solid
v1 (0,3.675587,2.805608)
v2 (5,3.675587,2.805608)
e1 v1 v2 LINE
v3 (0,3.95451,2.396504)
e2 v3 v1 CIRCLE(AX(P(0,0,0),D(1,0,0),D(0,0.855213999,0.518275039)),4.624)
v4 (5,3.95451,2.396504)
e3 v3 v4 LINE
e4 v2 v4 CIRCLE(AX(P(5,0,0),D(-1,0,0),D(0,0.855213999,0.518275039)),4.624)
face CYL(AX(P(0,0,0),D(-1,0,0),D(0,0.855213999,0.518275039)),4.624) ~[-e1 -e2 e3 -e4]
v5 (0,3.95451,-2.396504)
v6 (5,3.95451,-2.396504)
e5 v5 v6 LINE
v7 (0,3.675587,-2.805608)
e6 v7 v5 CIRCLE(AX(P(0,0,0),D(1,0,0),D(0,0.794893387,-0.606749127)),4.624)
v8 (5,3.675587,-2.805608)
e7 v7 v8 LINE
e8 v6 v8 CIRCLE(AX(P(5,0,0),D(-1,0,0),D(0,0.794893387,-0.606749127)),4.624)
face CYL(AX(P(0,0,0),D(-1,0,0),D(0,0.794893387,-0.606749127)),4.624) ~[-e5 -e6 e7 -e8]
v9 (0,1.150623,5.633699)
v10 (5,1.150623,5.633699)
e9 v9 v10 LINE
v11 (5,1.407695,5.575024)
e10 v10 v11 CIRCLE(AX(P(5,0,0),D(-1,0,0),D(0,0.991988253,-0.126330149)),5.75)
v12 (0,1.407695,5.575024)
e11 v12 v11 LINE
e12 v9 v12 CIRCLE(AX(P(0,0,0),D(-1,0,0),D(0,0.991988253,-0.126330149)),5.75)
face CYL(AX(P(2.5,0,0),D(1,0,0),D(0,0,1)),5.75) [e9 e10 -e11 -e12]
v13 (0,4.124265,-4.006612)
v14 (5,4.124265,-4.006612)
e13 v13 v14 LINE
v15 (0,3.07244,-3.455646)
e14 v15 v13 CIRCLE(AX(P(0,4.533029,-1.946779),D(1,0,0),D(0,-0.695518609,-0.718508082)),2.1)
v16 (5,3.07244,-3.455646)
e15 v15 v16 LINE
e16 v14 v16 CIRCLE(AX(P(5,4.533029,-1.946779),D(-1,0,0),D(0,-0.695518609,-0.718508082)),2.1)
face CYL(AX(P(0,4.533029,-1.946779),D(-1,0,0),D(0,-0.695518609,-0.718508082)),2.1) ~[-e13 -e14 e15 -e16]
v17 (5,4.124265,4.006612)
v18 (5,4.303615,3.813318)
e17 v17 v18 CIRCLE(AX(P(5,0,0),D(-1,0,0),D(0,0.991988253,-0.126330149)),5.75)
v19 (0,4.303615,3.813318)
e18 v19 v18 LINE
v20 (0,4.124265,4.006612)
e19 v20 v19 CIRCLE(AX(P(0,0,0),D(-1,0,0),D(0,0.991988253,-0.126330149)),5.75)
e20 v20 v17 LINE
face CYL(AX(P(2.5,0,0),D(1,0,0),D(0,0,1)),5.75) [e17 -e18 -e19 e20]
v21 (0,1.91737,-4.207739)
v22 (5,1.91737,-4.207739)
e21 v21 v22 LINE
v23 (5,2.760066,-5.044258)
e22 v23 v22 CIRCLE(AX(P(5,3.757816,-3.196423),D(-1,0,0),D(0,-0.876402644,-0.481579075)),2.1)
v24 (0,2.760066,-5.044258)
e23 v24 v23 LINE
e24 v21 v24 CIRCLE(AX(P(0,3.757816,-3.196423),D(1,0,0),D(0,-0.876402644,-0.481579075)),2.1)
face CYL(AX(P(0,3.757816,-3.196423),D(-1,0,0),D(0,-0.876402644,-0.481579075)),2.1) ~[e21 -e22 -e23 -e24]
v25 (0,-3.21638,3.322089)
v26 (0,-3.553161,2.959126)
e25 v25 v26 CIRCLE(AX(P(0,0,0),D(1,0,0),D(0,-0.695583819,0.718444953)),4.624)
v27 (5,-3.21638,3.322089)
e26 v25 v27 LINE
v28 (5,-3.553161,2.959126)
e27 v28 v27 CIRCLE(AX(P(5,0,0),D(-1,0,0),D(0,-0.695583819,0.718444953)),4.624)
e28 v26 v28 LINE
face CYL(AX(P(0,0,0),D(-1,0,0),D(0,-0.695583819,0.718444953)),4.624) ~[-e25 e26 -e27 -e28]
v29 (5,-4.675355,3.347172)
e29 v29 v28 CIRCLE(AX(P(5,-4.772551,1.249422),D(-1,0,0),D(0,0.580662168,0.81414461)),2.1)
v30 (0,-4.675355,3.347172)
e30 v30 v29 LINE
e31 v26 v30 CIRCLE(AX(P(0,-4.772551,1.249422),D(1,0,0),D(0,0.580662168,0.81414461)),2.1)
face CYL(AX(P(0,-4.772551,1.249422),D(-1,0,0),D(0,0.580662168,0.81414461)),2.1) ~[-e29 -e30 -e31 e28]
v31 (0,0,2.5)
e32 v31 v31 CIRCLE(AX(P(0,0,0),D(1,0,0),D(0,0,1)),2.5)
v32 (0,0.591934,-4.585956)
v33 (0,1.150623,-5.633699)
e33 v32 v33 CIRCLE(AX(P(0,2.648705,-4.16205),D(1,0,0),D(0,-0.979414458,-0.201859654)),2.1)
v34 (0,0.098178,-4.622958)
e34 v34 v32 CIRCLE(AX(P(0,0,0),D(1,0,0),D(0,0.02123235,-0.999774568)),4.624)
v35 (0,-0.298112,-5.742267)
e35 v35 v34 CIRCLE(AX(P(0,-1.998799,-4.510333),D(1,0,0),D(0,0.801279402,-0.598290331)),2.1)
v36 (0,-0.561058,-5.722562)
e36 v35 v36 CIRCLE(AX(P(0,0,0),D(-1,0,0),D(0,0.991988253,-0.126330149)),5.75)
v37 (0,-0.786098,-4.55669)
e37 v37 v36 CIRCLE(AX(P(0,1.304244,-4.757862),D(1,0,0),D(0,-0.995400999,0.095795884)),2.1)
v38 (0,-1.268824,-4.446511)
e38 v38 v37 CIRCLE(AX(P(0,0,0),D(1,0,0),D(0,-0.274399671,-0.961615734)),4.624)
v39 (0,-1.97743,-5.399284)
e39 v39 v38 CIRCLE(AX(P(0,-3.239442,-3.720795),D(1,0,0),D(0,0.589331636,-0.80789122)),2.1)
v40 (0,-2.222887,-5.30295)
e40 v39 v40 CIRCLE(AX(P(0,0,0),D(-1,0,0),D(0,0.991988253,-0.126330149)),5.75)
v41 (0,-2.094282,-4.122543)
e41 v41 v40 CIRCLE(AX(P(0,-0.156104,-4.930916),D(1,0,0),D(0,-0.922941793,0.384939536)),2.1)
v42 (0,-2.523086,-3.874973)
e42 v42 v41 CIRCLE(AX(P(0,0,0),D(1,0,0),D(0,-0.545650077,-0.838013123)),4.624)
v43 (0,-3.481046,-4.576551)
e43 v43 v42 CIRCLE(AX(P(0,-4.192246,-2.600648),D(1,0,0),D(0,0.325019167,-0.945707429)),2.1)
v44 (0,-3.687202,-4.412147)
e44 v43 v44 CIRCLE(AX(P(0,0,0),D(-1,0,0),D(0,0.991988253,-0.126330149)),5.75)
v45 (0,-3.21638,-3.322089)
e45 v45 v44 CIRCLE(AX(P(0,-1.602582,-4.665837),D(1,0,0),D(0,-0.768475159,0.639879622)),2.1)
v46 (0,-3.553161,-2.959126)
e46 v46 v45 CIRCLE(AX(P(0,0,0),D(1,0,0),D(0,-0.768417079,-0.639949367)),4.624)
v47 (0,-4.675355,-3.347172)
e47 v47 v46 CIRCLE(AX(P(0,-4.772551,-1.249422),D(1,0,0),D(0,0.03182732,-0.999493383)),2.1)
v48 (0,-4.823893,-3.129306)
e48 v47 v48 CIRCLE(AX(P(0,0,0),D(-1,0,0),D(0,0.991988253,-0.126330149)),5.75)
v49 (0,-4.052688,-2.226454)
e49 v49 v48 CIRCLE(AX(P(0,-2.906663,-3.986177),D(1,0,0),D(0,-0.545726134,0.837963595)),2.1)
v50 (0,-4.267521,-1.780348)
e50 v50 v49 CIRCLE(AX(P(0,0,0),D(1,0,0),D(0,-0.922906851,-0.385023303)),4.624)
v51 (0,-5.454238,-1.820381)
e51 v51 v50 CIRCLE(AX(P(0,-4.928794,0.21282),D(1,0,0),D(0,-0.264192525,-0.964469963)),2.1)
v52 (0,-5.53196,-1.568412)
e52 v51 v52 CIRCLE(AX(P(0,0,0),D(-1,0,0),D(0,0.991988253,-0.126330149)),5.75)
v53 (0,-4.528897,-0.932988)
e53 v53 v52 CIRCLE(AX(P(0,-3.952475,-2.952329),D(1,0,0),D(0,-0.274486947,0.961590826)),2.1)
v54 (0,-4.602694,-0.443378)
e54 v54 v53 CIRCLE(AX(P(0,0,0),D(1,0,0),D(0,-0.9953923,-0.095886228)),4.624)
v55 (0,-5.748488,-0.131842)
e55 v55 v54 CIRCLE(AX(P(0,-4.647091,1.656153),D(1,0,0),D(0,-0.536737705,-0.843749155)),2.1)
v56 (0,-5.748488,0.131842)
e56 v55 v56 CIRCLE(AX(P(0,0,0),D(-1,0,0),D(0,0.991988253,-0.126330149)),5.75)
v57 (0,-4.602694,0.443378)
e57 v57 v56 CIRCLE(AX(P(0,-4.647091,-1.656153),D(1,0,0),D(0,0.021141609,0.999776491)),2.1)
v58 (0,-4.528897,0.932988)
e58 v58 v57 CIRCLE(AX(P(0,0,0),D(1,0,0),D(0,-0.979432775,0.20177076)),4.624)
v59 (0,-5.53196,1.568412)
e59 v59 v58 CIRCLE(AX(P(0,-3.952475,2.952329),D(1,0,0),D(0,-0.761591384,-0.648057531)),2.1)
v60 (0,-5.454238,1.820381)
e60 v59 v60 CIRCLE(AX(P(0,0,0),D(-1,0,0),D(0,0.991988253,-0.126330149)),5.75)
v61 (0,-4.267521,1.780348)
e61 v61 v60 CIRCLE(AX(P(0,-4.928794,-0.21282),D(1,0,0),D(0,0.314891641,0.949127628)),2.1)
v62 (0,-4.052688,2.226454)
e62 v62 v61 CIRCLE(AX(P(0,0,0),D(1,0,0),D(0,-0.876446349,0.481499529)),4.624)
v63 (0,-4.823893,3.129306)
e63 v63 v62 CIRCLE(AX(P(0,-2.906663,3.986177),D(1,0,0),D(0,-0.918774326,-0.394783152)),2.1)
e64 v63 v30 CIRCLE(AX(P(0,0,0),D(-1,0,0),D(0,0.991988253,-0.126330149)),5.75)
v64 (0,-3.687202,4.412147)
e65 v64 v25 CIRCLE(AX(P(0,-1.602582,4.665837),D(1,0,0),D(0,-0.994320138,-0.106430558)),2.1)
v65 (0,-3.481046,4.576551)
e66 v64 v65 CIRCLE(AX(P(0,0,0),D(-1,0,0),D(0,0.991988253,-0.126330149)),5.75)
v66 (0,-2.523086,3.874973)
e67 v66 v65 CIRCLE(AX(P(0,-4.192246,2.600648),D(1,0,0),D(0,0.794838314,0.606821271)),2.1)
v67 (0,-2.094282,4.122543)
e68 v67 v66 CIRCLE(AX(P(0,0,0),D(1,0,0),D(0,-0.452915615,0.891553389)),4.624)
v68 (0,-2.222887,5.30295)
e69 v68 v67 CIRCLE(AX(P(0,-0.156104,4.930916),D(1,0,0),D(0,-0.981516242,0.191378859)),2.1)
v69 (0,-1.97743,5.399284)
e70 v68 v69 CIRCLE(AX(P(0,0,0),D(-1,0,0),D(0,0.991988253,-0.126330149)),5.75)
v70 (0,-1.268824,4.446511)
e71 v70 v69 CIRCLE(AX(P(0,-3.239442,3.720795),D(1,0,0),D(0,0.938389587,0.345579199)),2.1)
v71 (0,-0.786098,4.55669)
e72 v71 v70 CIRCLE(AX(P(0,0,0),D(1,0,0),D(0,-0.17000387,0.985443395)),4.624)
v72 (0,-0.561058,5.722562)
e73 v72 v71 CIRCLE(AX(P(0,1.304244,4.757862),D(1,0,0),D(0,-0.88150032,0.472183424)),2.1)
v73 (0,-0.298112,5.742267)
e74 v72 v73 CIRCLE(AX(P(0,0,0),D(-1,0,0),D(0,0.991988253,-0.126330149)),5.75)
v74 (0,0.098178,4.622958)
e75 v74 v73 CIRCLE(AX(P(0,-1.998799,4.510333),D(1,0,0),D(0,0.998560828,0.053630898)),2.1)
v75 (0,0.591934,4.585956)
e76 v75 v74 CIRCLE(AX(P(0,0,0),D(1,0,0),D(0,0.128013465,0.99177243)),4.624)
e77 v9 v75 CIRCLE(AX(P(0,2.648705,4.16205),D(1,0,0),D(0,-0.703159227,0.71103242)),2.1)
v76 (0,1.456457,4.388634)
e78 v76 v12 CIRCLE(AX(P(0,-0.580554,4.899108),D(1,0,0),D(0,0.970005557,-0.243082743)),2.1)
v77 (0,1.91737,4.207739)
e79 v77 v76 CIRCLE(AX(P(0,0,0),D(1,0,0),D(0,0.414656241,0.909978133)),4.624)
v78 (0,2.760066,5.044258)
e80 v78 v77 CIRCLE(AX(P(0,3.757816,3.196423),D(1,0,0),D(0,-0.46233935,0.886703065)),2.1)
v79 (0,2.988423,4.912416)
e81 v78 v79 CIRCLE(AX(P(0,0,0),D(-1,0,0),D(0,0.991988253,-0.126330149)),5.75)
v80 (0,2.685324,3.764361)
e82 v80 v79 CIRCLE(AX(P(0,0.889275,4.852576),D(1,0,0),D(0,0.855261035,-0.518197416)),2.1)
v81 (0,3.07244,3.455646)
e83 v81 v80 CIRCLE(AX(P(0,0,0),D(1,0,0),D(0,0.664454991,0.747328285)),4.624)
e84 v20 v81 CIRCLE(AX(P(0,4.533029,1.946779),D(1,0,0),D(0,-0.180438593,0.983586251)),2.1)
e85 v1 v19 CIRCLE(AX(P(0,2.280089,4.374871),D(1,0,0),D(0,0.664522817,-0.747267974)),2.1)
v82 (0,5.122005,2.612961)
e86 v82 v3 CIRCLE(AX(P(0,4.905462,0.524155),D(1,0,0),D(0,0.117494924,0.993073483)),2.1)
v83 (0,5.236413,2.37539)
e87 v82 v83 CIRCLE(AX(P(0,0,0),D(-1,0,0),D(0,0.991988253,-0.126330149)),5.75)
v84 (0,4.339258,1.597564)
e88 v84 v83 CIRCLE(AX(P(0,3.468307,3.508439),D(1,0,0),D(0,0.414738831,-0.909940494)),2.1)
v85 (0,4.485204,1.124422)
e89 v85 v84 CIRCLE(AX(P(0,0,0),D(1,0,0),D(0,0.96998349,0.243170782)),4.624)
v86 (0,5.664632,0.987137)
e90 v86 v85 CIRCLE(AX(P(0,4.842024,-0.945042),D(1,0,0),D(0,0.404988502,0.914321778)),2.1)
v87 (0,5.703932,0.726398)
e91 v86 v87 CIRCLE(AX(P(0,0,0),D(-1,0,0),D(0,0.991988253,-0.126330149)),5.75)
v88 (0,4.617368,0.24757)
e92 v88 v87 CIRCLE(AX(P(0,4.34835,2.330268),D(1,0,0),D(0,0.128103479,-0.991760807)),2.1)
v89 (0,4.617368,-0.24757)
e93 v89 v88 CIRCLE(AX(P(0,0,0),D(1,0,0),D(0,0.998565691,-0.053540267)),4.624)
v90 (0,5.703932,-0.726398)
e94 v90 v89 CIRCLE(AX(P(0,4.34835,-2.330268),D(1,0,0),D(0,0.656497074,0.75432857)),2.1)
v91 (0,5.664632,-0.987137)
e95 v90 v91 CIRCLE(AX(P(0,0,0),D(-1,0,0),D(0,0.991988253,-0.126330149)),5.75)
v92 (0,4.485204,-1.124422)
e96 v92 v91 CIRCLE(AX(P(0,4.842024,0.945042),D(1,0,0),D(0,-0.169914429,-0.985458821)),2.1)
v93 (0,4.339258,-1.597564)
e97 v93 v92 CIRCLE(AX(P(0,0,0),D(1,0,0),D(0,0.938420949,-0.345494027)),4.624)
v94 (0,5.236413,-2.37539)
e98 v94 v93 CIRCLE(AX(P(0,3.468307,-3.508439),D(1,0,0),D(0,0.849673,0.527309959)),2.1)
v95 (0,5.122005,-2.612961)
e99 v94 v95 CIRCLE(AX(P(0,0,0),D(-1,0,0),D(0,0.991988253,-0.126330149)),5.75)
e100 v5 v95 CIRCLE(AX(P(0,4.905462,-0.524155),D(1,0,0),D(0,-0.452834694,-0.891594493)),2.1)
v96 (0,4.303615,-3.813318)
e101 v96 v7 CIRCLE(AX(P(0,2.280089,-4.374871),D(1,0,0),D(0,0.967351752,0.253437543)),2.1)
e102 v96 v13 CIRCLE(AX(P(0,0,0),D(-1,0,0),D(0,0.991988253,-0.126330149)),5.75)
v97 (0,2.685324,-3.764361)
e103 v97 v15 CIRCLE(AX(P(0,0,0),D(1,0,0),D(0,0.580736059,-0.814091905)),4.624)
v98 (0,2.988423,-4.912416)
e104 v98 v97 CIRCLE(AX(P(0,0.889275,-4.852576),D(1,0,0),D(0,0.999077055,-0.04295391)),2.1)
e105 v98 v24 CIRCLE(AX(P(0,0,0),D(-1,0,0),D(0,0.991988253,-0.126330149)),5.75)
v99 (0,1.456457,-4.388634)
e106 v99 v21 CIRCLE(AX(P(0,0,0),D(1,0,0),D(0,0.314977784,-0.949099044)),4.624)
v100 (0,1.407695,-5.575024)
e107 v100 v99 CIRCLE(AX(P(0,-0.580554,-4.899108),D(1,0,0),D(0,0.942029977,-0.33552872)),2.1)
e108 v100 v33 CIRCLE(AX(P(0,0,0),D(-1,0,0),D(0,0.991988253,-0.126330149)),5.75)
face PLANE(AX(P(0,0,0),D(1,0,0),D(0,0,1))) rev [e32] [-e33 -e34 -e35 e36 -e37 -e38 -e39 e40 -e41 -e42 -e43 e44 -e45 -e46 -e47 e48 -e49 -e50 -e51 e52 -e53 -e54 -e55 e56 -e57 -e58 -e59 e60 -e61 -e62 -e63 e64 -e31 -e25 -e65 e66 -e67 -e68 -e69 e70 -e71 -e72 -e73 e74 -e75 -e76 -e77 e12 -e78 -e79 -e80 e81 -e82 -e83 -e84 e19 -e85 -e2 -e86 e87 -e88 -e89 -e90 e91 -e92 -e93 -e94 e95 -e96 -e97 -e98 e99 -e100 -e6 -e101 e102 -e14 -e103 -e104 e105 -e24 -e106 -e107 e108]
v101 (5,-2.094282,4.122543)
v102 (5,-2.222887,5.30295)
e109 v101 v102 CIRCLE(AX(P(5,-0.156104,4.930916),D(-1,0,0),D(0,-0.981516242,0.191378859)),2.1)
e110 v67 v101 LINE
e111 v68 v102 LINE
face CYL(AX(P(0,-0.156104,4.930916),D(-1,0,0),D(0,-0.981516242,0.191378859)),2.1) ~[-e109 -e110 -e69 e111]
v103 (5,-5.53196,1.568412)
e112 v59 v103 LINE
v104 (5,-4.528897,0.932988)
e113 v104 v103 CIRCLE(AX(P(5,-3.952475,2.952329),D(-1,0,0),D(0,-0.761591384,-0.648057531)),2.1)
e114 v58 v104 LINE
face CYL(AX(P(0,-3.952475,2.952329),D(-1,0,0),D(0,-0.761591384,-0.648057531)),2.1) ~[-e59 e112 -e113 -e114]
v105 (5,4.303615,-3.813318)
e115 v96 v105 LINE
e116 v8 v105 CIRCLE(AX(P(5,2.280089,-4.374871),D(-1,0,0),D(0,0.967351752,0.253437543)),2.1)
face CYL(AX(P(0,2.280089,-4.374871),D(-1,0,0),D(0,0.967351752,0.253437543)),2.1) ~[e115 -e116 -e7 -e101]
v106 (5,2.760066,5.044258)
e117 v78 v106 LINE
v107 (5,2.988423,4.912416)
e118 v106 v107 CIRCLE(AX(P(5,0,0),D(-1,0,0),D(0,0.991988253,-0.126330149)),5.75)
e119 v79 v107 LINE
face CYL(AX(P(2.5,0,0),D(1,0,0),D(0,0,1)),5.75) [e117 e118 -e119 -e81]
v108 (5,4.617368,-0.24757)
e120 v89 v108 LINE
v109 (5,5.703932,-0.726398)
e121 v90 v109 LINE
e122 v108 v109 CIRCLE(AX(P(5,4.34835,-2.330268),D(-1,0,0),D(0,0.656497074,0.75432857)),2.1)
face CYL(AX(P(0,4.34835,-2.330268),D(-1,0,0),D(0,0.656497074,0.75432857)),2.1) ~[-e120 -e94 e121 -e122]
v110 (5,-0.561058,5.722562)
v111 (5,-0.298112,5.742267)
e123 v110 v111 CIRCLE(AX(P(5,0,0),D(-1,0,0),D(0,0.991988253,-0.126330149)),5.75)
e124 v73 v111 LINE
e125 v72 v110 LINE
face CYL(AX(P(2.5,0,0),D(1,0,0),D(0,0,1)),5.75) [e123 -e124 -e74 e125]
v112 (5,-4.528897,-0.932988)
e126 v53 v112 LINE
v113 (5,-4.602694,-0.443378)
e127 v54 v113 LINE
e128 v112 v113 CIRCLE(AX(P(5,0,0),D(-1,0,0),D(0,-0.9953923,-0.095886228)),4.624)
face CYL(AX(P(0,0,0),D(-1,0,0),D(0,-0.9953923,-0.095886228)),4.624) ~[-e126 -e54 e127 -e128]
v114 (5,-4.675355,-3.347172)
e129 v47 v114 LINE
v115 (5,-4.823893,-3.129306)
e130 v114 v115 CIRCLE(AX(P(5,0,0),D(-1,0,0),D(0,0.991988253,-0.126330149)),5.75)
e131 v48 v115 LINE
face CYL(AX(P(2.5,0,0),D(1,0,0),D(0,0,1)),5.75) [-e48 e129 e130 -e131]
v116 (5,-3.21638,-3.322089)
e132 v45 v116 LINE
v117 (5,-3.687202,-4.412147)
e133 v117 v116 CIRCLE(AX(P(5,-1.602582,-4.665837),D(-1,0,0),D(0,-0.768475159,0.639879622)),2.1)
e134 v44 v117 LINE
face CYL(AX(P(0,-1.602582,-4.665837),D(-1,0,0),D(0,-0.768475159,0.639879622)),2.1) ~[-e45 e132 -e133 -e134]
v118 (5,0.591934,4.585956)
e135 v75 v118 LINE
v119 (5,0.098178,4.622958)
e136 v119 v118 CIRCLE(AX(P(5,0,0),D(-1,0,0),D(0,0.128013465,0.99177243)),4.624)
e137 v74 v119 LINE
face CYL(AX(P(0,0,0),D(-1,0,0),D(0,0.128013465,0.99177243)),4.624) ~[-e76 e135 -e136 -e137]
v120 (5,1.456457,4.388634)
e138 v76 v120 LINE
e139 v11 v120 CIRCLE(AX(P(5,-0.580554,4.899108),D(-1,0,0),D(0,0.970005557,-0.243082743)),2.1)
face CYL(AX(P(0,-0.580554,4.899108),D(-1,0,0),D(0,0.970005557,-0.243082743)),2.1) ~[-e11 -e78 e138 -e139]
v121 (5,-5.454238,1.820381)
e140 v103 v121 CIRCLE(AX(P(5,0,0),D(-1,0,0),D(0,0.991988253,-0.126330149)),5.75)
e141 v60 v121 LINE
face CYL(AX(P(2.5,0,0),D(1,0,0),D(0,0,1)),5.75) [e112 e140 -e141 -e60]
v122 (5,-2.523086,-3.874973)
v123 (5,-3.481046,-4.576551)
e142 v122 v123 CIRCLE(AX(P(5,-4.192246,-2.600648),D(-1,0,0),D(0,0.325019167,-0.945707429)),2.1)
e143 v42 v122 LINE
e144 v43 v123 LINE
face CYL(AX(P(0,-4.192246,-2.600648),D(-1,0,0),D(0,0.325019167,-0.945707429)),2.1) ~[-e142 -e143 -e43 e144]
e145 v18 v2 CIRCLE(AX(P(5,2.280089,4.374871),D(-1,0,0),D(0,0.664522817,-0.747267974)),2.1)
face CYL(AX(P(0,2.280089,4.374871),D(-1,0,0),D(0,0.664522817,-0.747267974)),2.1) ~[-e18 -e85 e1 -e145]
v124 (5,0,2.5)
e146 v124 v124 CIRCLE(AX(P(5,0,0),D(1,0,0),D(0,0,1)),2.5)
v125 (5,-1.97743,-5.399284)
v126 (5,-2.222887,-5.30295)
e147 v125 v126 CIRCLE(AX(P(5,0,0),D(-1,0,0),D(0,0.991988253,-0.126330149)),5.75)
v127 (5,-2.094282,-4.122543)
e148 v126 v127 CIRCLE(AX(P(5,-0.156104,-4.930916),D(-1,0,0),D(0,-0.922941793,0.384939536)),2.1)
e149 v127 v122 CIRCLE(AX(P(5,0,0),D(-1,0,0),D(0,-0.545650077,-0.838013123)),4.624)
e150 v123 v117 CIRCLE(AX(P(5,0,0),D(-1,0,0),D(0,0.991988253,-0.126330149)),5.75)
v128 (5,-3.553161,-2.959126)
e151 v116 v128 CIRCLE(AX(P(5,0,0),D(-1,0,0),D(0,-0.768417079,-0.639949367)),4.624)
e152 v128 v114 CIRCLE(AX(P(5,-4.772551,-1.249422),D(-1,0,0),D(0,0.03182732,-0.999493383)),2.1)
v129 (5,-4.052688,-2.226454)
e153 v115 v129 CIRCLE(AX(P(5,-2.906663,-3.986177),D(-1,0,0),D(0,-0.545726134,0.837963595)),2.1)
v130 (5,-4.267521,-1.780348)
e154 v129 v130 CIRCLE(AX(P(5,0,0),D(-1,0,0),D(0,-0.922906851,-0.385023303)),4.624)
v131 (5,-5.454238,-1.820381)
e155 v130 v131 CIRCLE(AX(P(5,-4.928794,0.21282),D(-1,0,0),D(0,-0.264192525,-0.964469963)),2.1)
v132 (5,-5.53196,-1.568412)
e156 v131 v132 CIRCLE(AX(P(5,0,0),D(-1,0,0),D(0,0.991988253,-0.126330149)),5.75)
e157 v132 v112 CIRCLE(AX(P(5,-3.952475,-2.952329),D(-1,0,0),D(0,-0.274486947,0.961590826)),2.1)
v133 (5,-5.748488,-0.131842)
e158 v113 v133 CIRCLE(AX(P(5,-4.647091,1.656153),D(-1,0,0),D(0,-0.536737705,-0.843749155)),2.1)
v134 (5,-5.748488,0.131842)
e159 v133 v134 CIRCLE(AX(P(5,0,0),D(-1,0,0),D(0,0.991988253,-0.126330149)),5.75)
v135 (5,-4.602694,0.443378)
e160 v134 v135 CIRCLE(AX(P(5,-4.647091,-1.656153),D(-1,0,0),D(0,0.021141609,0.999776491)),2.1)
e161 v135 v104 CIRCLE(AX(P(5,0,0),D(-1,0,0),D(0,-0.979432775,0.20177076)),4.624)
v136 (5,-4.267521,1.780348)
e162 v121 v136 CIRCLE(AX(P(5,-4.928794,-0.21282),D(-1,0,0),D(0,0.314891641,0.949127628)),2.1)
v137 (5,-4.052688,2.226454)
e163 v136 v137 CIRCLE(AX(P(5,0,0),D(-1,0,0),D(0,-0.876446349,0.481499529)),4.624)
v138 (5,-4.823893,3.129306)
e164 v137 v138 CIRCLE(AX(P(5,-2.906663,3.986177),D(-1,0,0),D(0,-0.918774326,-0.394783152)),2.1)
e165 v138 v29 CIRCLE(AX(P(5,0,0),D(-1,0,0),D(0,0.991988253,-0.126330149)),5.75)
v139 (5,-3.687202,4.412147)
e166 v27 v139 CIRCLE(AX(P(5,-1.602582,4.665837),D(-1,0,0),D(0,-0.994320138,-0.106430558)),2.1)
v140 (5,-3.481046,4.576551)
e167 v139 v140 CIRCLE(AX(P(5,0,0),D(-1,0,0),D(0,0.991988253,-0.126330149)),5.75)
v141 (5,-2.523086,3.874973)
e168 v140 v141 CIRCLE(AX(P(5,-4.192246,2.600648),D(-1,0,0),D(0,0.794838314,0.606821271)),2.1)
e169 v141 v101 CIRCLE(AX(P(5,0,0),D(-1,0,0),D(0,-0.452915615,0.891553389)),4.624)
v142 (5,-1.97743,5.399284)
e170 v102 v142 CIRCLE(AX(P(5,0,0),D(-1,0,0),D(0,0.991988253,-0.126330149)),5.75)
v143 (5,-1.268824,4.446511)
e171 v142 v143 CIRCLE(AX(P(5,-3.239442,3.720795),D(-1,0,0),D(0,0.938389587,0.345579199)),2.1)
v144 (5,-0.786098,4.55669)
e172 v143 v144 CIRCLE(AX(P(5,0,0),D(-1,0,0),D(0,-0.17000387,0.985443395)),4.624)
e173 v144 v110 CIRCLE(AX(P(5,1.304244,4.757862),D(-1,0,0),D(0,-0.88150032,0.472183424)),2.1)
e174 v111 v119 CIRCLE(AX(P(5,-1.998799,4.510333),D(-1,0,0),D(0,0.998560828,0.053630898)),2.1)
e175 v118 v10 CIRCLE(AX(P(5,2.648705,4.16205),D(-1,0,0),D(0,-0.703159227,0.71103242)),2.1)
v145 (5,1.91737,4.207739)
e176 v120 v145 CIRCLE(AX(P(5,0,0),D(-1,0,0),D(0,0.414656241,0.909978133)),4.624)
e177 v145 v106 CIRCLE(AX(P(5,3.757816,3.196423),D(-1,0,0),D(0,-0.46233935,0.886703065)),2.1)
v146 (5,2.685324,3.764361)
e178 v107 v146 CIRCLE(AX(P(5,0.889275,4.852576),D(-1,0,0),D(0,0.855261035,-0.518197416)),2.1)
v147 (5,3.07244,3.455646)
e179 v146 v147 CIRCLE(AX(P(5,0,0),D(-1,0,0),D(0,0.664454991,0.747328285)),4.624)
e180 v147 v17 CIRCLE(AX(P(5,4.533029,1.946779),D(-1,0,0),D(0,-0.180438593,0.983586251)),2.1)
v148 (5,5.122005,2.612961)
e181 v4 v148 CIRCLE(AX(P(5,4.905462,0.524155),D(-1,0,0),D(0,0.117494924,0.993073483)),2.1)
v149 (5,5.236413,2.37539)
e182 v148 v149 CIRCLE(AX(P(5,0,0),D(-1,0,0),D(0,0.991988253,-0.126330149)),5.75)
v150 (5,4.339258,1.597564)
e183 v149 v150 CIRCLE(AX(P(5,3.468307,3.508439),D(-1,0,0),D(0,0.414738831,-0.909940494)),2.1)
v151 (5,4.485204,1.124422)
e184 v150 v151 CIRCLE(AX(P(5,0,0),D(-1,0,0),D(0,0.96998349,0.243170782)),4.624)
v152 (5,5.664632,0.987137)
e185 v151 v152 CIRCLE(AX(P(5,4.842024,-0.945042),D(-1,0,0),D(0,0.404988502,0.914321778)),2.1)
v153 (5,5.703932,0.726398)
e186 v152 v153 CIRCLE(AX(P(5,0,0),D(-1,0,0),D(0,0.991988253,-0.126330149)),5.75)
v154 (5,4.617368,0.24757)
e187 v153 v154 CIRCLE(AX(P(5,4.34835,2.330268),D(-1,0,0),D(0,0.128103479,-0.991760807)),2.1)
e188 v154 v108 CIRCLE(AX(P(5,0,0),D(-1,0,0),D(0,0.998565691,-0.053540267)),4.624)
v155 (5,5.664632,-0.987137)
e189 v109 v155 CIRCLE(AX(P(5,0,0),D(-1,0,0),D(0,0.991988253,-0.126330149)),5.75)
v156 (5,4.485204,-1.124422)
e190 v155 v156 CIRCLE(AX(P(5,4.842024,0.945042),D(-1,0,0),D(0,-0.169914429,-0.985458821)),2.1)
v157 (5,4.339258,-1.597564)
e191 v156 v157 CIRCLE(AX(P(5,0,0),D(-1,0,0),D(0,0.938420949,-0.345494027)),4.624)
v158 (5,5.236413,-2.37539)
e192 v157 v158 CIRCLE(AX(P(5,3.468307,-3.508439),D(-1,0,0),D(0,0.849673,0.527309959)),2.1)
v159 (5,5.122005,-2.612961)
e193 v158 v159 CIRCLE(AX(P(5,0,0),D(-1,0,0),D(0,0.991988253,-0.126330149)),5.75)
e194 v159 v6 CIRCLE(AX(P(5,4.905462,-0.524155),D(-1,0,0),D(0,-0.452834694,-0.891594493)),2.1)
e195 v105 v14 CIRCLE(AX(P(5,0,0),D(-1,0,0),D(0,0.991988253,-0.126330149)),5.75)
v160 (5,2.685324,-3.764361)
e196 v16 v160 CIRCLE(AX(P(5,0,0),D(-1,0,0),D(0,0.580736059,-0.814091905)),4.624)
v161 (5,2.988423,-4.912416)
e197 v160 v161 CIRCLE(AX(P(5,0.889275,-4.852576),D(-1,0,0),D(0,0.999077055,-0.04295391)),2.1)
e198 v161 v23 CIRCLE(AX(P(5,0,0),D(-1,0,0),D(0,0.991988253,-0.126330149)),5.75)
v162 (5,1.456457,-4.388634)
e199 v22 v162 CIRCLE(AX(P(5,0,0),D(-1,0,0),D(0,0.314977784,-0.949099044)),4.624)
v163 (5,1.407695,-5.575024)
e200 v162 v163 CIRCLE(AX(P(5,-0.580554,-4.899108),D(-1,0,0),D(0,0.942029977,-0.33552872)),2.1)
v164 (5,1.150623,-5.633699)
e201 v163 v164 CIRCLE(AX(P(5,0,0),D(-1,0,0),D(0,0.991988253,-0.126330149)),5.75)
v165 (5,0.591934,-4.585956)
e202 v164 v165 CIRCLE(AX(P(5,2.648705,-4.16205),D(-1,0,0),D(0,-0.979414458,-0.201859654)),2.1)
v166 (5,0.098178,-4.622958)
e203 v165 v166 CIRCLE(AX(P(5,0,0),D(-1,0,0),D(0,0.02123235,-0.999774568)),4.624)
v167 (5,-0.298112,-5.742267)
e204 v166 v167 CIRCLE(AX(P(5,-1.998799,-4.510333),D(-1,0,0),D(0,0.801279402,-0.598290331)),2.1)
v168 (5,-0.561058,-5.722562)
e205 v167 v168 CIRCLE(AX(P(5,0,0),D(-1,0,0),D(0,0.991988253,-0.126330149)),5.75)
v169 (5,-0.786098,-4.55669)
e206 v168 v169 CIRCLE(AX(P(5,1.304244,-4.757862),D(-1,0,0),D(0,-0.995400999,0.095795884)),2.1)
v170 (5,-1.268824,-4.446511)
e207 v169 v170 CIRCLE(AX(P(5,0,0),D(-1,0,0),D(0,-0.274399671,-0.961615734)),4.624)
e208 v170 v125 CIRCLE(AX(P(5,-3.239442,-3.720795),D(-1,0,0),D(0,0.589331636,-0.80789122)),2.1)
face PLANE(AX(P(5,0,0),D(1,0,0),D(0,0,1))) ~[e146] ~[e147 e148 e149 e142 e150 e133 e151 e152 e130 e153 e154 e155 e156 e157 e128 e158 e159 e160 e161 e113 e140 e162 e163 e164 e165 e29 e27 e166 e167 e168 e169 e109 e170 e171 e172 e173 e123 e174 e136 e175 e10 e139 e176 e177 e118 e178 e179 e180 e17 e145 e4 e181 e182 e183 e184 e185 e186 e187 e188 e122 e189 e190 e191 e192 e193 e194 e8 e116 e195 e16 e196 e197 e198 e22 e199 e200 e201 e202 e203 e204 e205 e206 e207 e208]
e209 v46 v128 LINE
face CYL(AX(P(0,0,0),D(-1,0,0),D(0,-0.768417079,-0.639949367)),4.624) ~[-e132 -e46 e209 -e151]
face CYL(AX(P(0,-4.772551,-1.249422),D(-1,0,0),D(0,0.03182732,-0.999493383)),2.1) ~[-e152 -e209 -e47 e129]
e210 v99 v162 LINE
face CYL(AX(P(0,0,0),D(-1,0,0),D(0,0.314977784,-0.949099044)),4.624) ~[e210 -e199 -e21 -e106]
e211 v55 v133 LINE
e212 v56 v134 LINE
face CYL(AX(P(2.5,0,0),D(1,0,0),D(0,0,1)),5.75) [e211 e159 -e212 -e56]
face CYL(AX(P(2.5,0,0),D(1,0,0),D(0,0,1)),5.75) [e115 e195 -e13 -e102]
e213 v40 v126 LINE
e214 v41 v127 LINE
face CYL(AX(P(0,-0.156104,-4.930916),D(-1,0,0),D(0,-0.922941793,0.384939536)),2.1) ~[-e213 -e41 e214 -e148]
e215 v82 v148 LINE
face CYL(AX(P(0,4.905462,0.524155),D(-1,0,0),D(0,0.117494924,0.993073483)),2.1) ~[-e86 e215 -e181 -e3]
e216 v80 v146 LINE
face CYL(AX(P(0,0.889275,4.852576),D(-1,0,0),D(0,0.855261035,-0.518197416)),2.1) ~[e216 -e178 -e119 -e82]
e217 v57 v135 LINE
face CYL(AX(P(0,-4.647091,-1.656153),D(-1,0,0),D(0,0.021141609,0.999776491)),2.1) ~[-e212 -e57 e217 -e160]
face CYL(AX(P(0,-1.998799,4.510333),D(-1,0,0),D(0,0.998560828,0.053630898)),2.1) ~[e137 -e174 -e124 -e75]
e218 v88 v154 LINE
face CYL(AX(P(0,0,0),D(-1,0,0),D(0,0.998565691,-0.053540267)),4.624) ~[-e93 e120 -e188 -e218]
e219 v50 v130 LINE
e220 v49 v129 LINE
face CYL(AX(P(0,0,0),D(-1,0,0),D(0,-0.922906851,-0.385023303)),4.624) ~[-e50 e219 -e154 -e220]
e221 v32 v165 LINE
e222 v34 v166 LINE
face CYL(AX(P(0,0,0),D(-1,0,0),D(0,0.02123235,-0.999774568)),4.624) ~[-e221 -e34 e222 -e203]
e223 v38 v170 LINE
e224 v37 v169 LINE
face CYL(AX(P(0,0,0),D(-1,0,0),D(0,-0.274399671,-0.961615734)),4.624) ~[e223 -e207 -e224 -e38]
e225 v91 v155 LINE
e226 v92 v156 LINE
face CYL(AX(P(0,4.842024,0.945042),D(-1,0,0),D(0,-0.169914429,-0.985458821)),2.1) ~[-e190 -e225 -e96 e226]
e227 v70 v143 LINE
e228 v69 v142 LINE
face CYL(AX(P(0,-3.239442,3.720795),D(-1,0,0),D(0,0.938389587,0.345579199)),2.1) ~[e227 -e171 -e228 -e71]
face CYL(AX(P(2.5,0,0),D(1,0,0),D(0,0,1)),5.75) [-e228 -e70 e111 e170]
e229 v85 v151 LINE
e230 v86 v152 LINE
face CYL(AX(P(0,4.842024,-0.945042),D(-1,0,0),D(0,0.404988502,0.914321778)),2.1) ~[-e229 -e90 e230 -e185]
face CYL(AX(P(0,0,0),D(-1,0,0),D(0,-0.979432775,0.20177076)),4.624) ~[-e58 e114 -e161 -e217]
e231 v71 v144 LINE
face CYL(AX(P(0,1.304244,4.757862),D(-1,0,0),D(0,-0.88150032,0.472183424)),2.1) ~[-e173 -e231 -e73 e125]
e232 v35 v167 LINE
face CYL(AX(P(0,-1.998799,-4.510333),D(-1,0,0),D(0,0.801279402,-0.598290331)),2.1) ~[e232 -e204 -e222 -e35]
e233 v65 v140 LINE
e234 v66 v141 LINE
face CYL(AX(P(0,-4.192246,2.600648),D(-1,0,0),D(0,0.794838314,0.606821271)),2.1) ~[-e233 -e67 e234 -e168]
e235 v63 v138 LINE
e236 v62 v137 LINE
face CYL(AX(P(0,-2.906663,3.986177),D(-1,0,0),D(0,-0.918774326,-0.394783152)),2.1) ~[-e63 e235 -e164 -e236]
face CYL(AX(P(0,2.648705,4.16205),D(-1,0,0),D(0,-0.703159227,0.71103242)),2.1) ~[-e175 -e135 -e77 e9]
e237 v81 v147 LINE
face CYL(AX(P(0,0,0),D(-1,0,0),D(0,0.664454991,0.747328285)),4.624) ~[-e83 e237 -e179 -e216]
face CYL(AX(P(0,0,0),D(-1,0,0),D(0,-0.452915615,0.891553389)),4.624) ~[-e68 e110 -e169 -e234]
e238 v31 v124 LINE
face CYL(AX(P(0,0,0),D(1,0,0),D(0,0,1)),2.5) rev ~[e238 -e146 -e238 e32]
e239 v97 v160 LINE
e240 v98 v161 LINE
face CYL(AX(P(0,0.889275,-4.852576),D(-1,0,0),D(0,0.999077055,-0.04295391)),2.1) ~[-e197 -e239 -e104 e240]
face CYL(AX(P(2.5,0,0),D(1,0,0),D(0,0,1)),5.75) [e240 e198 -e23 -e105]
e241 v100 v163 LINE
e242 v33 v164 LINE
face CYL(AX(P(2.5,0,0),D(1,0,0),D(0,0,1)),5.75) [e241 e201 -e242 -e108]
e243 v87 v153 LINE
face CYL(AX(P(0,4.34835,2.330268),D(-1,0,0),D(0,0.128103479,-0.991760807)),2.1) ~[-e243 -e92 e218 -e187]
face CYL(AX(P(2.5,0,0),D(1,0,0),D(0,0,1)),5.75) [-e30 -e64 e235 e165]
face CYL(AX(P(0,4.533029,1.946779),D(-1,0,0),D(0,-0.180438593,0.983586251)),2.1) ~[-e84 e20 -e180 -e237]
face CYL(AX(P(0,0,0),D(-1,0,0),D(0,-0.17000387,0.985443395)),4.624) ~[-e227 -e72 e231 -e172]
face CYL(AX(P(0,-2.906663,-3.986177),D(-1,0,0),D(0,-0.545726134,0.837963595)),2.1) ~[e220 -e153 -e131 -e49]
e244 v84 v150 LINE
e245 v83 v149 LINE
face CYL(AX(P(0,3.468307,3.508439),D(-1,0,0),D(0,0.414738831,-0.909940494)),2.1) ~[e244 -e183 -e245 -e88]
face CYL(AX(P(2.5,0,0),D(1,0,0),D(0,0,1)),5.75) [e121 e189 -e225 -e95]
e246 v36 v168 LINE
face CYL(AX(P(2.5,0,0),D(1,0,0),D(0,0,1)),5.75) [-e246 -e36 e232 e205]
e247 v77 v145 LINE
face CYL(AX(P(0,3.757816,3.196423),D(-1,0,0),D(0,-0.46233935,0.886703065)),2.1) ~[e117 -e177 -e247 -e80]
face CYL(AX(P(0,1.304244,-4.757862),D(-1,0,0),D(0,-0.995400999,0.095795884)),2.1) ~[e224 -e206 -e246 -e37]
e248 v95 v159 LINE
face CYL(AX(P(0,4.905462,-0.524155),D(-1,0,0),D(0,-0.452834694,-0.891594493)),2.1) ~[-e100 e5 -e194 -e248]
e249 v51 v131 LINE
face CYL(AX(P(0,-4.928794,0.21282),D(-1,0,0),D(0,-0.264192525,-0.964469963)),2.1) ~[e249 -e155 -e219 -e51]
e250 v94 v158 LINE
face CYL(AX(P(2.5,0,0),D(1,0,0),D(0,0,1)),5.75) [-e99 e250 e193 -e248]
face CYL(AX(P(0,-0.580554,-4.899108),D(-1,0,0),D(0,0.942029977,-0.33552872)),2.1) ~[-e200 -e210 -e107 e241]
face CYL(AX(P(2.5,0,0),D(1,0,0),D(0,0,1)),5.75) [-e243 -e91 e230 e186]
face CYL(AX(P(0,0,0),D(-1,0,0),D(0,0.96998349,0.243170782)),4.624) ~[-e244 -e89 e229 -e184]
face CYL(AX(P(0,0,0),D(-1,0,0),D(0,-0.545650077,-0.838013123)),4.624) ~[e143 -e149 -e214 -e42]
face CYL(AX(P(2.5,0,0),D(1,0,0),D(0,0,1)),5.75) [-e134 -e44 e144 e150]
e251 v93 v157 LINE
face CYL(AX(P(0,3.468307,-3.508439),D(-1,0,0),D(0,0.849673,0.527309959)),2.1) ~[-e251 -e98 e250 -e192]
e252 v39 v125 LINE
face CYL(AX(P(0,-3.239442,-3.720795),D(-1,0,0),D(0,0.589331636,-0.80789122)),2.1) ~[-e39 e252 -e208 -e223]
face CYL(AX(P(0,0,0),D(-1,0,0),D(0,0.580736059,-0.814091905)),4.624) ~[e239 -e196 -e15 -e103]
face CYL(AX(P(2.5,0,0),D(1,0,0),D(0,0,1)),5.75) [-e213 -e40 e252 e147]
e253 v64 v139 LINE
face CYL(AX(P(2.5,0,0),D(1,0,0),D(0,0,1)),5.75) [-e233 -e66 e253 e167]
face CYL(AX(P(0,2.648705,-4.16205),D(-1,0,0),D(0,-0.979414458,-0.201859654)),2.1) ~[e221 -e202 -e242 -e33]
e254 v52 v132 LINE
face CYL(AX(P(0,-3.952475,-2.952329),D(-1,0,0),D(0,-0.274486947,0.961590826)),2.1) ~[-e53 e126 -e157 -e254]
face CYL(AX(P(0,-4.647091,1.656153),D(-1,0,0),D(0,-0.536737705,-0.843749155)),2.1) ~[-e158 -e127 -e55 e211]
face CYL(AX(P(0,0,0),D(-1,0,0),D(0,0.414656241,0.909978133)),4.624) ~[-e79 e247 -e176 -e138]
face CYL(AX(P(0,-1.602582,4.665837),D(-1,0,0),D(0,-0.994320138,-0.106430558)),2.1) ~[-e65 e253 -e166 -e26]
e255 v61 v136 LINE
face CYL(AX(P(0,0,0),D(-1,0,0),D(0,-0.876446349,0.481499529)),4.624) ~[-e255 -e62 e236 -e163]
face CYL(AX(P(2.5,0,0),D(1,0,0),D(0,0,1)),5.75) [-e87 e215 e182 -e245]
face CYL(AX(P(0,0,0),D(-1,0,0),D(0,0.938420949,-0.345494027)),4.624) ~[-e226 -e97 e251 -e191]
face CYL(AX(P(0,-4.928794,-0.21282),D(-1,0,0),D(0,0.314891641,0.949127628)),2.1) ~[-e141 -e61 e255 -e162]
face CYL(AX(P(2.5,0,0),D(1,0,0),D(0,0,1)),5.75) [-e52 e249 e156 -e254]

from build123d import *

# Parameters (mm, degrees)
BASPROSKE_W     = 5
BASPROSKE_H     = 5.75
TOOTHCUT_DEPTH  = 10.545941546
TEETHCUTS_COUNT = 21
TEETHCUTS_ANGLE = 342.857142857
BORSKE_R        = 2.5
BORE_DEPTH      = 10.0000508


with BuildPart() as part:
    # BasProSke → Base-Revolve (revolve)
    with BuildSketch(Plane(origin=(0, 0, 0), x_dir=(1, 0, 0), z_dir=(0, 1, 0)), mode=Mode.PRIVATE) as base_revolve_sk:
        with Locations((2.5, 2.875)):
            Rectangle(BASPROSKE_W, BASPROSKE_H)
    revolve(base_revolve_sk.sketch.rotate(Axis((-10, 0, 0), (1, 0, 0)), 180), axis=Axis((-10, 0, 0), (1, 0, 0)))

    # TooCutSke → ToothCut (cut, through all)
    with BuildSketch(Plane(origin=(0, 0, 0), x_dir=(0, 0, -1), z_dir=(1, 0, 0))):
        with BuildLine():
            ThreePointArc((0.247570178, 4.617367757), (0, 4.624), (-0.247570178, 4.617367757))
            ThreePointArc((-0.247570178, 4.617367757), (-0.414765128, 5.209076442), (-0.746177874, 5.726994302))
            ThreePointArc((-0.746177874, 5.726994302), (0, 5.7754), (0.746177874, 5.726994302))
            ThreePointArc((0.746177874, 5.726994302), (0.414765128, 5.209076442), (0.247570178, 4.617367757))
        make_face()
    toothcut = extrude(amount=TOOTHCUT_DEPTH, mode=Mode.SUBTRACT)

    # TeethCuts: ToothCut ×21 about axis
    teethcuts_axis = Axis((-10, 0, 0), (1, 0, 0))
    for i in range(1, TEETHCUTS_COUNT):
        add(toothcut.rotate(teethcuts_axis, i * TEETHCUTS_ANGLE / (TEETHCUTS_COUNT - 1)), mode=Mode.SUBTRACT)

    # BorSke → Bore (cut, symmetric)
    with BuildSketch(Plane(origin=(0, 0, 0), x_dir=(0, 0, -1), z_dir=(1, 0, 0))):
        with Locations(Location((0, 0, 0), (0, 0, 180))):
            Circle(BORSKE_R)
    extrude(amount=BORE_DEPTH, both=True, mode=Mode.SUBTRACT)


solid = part.part
